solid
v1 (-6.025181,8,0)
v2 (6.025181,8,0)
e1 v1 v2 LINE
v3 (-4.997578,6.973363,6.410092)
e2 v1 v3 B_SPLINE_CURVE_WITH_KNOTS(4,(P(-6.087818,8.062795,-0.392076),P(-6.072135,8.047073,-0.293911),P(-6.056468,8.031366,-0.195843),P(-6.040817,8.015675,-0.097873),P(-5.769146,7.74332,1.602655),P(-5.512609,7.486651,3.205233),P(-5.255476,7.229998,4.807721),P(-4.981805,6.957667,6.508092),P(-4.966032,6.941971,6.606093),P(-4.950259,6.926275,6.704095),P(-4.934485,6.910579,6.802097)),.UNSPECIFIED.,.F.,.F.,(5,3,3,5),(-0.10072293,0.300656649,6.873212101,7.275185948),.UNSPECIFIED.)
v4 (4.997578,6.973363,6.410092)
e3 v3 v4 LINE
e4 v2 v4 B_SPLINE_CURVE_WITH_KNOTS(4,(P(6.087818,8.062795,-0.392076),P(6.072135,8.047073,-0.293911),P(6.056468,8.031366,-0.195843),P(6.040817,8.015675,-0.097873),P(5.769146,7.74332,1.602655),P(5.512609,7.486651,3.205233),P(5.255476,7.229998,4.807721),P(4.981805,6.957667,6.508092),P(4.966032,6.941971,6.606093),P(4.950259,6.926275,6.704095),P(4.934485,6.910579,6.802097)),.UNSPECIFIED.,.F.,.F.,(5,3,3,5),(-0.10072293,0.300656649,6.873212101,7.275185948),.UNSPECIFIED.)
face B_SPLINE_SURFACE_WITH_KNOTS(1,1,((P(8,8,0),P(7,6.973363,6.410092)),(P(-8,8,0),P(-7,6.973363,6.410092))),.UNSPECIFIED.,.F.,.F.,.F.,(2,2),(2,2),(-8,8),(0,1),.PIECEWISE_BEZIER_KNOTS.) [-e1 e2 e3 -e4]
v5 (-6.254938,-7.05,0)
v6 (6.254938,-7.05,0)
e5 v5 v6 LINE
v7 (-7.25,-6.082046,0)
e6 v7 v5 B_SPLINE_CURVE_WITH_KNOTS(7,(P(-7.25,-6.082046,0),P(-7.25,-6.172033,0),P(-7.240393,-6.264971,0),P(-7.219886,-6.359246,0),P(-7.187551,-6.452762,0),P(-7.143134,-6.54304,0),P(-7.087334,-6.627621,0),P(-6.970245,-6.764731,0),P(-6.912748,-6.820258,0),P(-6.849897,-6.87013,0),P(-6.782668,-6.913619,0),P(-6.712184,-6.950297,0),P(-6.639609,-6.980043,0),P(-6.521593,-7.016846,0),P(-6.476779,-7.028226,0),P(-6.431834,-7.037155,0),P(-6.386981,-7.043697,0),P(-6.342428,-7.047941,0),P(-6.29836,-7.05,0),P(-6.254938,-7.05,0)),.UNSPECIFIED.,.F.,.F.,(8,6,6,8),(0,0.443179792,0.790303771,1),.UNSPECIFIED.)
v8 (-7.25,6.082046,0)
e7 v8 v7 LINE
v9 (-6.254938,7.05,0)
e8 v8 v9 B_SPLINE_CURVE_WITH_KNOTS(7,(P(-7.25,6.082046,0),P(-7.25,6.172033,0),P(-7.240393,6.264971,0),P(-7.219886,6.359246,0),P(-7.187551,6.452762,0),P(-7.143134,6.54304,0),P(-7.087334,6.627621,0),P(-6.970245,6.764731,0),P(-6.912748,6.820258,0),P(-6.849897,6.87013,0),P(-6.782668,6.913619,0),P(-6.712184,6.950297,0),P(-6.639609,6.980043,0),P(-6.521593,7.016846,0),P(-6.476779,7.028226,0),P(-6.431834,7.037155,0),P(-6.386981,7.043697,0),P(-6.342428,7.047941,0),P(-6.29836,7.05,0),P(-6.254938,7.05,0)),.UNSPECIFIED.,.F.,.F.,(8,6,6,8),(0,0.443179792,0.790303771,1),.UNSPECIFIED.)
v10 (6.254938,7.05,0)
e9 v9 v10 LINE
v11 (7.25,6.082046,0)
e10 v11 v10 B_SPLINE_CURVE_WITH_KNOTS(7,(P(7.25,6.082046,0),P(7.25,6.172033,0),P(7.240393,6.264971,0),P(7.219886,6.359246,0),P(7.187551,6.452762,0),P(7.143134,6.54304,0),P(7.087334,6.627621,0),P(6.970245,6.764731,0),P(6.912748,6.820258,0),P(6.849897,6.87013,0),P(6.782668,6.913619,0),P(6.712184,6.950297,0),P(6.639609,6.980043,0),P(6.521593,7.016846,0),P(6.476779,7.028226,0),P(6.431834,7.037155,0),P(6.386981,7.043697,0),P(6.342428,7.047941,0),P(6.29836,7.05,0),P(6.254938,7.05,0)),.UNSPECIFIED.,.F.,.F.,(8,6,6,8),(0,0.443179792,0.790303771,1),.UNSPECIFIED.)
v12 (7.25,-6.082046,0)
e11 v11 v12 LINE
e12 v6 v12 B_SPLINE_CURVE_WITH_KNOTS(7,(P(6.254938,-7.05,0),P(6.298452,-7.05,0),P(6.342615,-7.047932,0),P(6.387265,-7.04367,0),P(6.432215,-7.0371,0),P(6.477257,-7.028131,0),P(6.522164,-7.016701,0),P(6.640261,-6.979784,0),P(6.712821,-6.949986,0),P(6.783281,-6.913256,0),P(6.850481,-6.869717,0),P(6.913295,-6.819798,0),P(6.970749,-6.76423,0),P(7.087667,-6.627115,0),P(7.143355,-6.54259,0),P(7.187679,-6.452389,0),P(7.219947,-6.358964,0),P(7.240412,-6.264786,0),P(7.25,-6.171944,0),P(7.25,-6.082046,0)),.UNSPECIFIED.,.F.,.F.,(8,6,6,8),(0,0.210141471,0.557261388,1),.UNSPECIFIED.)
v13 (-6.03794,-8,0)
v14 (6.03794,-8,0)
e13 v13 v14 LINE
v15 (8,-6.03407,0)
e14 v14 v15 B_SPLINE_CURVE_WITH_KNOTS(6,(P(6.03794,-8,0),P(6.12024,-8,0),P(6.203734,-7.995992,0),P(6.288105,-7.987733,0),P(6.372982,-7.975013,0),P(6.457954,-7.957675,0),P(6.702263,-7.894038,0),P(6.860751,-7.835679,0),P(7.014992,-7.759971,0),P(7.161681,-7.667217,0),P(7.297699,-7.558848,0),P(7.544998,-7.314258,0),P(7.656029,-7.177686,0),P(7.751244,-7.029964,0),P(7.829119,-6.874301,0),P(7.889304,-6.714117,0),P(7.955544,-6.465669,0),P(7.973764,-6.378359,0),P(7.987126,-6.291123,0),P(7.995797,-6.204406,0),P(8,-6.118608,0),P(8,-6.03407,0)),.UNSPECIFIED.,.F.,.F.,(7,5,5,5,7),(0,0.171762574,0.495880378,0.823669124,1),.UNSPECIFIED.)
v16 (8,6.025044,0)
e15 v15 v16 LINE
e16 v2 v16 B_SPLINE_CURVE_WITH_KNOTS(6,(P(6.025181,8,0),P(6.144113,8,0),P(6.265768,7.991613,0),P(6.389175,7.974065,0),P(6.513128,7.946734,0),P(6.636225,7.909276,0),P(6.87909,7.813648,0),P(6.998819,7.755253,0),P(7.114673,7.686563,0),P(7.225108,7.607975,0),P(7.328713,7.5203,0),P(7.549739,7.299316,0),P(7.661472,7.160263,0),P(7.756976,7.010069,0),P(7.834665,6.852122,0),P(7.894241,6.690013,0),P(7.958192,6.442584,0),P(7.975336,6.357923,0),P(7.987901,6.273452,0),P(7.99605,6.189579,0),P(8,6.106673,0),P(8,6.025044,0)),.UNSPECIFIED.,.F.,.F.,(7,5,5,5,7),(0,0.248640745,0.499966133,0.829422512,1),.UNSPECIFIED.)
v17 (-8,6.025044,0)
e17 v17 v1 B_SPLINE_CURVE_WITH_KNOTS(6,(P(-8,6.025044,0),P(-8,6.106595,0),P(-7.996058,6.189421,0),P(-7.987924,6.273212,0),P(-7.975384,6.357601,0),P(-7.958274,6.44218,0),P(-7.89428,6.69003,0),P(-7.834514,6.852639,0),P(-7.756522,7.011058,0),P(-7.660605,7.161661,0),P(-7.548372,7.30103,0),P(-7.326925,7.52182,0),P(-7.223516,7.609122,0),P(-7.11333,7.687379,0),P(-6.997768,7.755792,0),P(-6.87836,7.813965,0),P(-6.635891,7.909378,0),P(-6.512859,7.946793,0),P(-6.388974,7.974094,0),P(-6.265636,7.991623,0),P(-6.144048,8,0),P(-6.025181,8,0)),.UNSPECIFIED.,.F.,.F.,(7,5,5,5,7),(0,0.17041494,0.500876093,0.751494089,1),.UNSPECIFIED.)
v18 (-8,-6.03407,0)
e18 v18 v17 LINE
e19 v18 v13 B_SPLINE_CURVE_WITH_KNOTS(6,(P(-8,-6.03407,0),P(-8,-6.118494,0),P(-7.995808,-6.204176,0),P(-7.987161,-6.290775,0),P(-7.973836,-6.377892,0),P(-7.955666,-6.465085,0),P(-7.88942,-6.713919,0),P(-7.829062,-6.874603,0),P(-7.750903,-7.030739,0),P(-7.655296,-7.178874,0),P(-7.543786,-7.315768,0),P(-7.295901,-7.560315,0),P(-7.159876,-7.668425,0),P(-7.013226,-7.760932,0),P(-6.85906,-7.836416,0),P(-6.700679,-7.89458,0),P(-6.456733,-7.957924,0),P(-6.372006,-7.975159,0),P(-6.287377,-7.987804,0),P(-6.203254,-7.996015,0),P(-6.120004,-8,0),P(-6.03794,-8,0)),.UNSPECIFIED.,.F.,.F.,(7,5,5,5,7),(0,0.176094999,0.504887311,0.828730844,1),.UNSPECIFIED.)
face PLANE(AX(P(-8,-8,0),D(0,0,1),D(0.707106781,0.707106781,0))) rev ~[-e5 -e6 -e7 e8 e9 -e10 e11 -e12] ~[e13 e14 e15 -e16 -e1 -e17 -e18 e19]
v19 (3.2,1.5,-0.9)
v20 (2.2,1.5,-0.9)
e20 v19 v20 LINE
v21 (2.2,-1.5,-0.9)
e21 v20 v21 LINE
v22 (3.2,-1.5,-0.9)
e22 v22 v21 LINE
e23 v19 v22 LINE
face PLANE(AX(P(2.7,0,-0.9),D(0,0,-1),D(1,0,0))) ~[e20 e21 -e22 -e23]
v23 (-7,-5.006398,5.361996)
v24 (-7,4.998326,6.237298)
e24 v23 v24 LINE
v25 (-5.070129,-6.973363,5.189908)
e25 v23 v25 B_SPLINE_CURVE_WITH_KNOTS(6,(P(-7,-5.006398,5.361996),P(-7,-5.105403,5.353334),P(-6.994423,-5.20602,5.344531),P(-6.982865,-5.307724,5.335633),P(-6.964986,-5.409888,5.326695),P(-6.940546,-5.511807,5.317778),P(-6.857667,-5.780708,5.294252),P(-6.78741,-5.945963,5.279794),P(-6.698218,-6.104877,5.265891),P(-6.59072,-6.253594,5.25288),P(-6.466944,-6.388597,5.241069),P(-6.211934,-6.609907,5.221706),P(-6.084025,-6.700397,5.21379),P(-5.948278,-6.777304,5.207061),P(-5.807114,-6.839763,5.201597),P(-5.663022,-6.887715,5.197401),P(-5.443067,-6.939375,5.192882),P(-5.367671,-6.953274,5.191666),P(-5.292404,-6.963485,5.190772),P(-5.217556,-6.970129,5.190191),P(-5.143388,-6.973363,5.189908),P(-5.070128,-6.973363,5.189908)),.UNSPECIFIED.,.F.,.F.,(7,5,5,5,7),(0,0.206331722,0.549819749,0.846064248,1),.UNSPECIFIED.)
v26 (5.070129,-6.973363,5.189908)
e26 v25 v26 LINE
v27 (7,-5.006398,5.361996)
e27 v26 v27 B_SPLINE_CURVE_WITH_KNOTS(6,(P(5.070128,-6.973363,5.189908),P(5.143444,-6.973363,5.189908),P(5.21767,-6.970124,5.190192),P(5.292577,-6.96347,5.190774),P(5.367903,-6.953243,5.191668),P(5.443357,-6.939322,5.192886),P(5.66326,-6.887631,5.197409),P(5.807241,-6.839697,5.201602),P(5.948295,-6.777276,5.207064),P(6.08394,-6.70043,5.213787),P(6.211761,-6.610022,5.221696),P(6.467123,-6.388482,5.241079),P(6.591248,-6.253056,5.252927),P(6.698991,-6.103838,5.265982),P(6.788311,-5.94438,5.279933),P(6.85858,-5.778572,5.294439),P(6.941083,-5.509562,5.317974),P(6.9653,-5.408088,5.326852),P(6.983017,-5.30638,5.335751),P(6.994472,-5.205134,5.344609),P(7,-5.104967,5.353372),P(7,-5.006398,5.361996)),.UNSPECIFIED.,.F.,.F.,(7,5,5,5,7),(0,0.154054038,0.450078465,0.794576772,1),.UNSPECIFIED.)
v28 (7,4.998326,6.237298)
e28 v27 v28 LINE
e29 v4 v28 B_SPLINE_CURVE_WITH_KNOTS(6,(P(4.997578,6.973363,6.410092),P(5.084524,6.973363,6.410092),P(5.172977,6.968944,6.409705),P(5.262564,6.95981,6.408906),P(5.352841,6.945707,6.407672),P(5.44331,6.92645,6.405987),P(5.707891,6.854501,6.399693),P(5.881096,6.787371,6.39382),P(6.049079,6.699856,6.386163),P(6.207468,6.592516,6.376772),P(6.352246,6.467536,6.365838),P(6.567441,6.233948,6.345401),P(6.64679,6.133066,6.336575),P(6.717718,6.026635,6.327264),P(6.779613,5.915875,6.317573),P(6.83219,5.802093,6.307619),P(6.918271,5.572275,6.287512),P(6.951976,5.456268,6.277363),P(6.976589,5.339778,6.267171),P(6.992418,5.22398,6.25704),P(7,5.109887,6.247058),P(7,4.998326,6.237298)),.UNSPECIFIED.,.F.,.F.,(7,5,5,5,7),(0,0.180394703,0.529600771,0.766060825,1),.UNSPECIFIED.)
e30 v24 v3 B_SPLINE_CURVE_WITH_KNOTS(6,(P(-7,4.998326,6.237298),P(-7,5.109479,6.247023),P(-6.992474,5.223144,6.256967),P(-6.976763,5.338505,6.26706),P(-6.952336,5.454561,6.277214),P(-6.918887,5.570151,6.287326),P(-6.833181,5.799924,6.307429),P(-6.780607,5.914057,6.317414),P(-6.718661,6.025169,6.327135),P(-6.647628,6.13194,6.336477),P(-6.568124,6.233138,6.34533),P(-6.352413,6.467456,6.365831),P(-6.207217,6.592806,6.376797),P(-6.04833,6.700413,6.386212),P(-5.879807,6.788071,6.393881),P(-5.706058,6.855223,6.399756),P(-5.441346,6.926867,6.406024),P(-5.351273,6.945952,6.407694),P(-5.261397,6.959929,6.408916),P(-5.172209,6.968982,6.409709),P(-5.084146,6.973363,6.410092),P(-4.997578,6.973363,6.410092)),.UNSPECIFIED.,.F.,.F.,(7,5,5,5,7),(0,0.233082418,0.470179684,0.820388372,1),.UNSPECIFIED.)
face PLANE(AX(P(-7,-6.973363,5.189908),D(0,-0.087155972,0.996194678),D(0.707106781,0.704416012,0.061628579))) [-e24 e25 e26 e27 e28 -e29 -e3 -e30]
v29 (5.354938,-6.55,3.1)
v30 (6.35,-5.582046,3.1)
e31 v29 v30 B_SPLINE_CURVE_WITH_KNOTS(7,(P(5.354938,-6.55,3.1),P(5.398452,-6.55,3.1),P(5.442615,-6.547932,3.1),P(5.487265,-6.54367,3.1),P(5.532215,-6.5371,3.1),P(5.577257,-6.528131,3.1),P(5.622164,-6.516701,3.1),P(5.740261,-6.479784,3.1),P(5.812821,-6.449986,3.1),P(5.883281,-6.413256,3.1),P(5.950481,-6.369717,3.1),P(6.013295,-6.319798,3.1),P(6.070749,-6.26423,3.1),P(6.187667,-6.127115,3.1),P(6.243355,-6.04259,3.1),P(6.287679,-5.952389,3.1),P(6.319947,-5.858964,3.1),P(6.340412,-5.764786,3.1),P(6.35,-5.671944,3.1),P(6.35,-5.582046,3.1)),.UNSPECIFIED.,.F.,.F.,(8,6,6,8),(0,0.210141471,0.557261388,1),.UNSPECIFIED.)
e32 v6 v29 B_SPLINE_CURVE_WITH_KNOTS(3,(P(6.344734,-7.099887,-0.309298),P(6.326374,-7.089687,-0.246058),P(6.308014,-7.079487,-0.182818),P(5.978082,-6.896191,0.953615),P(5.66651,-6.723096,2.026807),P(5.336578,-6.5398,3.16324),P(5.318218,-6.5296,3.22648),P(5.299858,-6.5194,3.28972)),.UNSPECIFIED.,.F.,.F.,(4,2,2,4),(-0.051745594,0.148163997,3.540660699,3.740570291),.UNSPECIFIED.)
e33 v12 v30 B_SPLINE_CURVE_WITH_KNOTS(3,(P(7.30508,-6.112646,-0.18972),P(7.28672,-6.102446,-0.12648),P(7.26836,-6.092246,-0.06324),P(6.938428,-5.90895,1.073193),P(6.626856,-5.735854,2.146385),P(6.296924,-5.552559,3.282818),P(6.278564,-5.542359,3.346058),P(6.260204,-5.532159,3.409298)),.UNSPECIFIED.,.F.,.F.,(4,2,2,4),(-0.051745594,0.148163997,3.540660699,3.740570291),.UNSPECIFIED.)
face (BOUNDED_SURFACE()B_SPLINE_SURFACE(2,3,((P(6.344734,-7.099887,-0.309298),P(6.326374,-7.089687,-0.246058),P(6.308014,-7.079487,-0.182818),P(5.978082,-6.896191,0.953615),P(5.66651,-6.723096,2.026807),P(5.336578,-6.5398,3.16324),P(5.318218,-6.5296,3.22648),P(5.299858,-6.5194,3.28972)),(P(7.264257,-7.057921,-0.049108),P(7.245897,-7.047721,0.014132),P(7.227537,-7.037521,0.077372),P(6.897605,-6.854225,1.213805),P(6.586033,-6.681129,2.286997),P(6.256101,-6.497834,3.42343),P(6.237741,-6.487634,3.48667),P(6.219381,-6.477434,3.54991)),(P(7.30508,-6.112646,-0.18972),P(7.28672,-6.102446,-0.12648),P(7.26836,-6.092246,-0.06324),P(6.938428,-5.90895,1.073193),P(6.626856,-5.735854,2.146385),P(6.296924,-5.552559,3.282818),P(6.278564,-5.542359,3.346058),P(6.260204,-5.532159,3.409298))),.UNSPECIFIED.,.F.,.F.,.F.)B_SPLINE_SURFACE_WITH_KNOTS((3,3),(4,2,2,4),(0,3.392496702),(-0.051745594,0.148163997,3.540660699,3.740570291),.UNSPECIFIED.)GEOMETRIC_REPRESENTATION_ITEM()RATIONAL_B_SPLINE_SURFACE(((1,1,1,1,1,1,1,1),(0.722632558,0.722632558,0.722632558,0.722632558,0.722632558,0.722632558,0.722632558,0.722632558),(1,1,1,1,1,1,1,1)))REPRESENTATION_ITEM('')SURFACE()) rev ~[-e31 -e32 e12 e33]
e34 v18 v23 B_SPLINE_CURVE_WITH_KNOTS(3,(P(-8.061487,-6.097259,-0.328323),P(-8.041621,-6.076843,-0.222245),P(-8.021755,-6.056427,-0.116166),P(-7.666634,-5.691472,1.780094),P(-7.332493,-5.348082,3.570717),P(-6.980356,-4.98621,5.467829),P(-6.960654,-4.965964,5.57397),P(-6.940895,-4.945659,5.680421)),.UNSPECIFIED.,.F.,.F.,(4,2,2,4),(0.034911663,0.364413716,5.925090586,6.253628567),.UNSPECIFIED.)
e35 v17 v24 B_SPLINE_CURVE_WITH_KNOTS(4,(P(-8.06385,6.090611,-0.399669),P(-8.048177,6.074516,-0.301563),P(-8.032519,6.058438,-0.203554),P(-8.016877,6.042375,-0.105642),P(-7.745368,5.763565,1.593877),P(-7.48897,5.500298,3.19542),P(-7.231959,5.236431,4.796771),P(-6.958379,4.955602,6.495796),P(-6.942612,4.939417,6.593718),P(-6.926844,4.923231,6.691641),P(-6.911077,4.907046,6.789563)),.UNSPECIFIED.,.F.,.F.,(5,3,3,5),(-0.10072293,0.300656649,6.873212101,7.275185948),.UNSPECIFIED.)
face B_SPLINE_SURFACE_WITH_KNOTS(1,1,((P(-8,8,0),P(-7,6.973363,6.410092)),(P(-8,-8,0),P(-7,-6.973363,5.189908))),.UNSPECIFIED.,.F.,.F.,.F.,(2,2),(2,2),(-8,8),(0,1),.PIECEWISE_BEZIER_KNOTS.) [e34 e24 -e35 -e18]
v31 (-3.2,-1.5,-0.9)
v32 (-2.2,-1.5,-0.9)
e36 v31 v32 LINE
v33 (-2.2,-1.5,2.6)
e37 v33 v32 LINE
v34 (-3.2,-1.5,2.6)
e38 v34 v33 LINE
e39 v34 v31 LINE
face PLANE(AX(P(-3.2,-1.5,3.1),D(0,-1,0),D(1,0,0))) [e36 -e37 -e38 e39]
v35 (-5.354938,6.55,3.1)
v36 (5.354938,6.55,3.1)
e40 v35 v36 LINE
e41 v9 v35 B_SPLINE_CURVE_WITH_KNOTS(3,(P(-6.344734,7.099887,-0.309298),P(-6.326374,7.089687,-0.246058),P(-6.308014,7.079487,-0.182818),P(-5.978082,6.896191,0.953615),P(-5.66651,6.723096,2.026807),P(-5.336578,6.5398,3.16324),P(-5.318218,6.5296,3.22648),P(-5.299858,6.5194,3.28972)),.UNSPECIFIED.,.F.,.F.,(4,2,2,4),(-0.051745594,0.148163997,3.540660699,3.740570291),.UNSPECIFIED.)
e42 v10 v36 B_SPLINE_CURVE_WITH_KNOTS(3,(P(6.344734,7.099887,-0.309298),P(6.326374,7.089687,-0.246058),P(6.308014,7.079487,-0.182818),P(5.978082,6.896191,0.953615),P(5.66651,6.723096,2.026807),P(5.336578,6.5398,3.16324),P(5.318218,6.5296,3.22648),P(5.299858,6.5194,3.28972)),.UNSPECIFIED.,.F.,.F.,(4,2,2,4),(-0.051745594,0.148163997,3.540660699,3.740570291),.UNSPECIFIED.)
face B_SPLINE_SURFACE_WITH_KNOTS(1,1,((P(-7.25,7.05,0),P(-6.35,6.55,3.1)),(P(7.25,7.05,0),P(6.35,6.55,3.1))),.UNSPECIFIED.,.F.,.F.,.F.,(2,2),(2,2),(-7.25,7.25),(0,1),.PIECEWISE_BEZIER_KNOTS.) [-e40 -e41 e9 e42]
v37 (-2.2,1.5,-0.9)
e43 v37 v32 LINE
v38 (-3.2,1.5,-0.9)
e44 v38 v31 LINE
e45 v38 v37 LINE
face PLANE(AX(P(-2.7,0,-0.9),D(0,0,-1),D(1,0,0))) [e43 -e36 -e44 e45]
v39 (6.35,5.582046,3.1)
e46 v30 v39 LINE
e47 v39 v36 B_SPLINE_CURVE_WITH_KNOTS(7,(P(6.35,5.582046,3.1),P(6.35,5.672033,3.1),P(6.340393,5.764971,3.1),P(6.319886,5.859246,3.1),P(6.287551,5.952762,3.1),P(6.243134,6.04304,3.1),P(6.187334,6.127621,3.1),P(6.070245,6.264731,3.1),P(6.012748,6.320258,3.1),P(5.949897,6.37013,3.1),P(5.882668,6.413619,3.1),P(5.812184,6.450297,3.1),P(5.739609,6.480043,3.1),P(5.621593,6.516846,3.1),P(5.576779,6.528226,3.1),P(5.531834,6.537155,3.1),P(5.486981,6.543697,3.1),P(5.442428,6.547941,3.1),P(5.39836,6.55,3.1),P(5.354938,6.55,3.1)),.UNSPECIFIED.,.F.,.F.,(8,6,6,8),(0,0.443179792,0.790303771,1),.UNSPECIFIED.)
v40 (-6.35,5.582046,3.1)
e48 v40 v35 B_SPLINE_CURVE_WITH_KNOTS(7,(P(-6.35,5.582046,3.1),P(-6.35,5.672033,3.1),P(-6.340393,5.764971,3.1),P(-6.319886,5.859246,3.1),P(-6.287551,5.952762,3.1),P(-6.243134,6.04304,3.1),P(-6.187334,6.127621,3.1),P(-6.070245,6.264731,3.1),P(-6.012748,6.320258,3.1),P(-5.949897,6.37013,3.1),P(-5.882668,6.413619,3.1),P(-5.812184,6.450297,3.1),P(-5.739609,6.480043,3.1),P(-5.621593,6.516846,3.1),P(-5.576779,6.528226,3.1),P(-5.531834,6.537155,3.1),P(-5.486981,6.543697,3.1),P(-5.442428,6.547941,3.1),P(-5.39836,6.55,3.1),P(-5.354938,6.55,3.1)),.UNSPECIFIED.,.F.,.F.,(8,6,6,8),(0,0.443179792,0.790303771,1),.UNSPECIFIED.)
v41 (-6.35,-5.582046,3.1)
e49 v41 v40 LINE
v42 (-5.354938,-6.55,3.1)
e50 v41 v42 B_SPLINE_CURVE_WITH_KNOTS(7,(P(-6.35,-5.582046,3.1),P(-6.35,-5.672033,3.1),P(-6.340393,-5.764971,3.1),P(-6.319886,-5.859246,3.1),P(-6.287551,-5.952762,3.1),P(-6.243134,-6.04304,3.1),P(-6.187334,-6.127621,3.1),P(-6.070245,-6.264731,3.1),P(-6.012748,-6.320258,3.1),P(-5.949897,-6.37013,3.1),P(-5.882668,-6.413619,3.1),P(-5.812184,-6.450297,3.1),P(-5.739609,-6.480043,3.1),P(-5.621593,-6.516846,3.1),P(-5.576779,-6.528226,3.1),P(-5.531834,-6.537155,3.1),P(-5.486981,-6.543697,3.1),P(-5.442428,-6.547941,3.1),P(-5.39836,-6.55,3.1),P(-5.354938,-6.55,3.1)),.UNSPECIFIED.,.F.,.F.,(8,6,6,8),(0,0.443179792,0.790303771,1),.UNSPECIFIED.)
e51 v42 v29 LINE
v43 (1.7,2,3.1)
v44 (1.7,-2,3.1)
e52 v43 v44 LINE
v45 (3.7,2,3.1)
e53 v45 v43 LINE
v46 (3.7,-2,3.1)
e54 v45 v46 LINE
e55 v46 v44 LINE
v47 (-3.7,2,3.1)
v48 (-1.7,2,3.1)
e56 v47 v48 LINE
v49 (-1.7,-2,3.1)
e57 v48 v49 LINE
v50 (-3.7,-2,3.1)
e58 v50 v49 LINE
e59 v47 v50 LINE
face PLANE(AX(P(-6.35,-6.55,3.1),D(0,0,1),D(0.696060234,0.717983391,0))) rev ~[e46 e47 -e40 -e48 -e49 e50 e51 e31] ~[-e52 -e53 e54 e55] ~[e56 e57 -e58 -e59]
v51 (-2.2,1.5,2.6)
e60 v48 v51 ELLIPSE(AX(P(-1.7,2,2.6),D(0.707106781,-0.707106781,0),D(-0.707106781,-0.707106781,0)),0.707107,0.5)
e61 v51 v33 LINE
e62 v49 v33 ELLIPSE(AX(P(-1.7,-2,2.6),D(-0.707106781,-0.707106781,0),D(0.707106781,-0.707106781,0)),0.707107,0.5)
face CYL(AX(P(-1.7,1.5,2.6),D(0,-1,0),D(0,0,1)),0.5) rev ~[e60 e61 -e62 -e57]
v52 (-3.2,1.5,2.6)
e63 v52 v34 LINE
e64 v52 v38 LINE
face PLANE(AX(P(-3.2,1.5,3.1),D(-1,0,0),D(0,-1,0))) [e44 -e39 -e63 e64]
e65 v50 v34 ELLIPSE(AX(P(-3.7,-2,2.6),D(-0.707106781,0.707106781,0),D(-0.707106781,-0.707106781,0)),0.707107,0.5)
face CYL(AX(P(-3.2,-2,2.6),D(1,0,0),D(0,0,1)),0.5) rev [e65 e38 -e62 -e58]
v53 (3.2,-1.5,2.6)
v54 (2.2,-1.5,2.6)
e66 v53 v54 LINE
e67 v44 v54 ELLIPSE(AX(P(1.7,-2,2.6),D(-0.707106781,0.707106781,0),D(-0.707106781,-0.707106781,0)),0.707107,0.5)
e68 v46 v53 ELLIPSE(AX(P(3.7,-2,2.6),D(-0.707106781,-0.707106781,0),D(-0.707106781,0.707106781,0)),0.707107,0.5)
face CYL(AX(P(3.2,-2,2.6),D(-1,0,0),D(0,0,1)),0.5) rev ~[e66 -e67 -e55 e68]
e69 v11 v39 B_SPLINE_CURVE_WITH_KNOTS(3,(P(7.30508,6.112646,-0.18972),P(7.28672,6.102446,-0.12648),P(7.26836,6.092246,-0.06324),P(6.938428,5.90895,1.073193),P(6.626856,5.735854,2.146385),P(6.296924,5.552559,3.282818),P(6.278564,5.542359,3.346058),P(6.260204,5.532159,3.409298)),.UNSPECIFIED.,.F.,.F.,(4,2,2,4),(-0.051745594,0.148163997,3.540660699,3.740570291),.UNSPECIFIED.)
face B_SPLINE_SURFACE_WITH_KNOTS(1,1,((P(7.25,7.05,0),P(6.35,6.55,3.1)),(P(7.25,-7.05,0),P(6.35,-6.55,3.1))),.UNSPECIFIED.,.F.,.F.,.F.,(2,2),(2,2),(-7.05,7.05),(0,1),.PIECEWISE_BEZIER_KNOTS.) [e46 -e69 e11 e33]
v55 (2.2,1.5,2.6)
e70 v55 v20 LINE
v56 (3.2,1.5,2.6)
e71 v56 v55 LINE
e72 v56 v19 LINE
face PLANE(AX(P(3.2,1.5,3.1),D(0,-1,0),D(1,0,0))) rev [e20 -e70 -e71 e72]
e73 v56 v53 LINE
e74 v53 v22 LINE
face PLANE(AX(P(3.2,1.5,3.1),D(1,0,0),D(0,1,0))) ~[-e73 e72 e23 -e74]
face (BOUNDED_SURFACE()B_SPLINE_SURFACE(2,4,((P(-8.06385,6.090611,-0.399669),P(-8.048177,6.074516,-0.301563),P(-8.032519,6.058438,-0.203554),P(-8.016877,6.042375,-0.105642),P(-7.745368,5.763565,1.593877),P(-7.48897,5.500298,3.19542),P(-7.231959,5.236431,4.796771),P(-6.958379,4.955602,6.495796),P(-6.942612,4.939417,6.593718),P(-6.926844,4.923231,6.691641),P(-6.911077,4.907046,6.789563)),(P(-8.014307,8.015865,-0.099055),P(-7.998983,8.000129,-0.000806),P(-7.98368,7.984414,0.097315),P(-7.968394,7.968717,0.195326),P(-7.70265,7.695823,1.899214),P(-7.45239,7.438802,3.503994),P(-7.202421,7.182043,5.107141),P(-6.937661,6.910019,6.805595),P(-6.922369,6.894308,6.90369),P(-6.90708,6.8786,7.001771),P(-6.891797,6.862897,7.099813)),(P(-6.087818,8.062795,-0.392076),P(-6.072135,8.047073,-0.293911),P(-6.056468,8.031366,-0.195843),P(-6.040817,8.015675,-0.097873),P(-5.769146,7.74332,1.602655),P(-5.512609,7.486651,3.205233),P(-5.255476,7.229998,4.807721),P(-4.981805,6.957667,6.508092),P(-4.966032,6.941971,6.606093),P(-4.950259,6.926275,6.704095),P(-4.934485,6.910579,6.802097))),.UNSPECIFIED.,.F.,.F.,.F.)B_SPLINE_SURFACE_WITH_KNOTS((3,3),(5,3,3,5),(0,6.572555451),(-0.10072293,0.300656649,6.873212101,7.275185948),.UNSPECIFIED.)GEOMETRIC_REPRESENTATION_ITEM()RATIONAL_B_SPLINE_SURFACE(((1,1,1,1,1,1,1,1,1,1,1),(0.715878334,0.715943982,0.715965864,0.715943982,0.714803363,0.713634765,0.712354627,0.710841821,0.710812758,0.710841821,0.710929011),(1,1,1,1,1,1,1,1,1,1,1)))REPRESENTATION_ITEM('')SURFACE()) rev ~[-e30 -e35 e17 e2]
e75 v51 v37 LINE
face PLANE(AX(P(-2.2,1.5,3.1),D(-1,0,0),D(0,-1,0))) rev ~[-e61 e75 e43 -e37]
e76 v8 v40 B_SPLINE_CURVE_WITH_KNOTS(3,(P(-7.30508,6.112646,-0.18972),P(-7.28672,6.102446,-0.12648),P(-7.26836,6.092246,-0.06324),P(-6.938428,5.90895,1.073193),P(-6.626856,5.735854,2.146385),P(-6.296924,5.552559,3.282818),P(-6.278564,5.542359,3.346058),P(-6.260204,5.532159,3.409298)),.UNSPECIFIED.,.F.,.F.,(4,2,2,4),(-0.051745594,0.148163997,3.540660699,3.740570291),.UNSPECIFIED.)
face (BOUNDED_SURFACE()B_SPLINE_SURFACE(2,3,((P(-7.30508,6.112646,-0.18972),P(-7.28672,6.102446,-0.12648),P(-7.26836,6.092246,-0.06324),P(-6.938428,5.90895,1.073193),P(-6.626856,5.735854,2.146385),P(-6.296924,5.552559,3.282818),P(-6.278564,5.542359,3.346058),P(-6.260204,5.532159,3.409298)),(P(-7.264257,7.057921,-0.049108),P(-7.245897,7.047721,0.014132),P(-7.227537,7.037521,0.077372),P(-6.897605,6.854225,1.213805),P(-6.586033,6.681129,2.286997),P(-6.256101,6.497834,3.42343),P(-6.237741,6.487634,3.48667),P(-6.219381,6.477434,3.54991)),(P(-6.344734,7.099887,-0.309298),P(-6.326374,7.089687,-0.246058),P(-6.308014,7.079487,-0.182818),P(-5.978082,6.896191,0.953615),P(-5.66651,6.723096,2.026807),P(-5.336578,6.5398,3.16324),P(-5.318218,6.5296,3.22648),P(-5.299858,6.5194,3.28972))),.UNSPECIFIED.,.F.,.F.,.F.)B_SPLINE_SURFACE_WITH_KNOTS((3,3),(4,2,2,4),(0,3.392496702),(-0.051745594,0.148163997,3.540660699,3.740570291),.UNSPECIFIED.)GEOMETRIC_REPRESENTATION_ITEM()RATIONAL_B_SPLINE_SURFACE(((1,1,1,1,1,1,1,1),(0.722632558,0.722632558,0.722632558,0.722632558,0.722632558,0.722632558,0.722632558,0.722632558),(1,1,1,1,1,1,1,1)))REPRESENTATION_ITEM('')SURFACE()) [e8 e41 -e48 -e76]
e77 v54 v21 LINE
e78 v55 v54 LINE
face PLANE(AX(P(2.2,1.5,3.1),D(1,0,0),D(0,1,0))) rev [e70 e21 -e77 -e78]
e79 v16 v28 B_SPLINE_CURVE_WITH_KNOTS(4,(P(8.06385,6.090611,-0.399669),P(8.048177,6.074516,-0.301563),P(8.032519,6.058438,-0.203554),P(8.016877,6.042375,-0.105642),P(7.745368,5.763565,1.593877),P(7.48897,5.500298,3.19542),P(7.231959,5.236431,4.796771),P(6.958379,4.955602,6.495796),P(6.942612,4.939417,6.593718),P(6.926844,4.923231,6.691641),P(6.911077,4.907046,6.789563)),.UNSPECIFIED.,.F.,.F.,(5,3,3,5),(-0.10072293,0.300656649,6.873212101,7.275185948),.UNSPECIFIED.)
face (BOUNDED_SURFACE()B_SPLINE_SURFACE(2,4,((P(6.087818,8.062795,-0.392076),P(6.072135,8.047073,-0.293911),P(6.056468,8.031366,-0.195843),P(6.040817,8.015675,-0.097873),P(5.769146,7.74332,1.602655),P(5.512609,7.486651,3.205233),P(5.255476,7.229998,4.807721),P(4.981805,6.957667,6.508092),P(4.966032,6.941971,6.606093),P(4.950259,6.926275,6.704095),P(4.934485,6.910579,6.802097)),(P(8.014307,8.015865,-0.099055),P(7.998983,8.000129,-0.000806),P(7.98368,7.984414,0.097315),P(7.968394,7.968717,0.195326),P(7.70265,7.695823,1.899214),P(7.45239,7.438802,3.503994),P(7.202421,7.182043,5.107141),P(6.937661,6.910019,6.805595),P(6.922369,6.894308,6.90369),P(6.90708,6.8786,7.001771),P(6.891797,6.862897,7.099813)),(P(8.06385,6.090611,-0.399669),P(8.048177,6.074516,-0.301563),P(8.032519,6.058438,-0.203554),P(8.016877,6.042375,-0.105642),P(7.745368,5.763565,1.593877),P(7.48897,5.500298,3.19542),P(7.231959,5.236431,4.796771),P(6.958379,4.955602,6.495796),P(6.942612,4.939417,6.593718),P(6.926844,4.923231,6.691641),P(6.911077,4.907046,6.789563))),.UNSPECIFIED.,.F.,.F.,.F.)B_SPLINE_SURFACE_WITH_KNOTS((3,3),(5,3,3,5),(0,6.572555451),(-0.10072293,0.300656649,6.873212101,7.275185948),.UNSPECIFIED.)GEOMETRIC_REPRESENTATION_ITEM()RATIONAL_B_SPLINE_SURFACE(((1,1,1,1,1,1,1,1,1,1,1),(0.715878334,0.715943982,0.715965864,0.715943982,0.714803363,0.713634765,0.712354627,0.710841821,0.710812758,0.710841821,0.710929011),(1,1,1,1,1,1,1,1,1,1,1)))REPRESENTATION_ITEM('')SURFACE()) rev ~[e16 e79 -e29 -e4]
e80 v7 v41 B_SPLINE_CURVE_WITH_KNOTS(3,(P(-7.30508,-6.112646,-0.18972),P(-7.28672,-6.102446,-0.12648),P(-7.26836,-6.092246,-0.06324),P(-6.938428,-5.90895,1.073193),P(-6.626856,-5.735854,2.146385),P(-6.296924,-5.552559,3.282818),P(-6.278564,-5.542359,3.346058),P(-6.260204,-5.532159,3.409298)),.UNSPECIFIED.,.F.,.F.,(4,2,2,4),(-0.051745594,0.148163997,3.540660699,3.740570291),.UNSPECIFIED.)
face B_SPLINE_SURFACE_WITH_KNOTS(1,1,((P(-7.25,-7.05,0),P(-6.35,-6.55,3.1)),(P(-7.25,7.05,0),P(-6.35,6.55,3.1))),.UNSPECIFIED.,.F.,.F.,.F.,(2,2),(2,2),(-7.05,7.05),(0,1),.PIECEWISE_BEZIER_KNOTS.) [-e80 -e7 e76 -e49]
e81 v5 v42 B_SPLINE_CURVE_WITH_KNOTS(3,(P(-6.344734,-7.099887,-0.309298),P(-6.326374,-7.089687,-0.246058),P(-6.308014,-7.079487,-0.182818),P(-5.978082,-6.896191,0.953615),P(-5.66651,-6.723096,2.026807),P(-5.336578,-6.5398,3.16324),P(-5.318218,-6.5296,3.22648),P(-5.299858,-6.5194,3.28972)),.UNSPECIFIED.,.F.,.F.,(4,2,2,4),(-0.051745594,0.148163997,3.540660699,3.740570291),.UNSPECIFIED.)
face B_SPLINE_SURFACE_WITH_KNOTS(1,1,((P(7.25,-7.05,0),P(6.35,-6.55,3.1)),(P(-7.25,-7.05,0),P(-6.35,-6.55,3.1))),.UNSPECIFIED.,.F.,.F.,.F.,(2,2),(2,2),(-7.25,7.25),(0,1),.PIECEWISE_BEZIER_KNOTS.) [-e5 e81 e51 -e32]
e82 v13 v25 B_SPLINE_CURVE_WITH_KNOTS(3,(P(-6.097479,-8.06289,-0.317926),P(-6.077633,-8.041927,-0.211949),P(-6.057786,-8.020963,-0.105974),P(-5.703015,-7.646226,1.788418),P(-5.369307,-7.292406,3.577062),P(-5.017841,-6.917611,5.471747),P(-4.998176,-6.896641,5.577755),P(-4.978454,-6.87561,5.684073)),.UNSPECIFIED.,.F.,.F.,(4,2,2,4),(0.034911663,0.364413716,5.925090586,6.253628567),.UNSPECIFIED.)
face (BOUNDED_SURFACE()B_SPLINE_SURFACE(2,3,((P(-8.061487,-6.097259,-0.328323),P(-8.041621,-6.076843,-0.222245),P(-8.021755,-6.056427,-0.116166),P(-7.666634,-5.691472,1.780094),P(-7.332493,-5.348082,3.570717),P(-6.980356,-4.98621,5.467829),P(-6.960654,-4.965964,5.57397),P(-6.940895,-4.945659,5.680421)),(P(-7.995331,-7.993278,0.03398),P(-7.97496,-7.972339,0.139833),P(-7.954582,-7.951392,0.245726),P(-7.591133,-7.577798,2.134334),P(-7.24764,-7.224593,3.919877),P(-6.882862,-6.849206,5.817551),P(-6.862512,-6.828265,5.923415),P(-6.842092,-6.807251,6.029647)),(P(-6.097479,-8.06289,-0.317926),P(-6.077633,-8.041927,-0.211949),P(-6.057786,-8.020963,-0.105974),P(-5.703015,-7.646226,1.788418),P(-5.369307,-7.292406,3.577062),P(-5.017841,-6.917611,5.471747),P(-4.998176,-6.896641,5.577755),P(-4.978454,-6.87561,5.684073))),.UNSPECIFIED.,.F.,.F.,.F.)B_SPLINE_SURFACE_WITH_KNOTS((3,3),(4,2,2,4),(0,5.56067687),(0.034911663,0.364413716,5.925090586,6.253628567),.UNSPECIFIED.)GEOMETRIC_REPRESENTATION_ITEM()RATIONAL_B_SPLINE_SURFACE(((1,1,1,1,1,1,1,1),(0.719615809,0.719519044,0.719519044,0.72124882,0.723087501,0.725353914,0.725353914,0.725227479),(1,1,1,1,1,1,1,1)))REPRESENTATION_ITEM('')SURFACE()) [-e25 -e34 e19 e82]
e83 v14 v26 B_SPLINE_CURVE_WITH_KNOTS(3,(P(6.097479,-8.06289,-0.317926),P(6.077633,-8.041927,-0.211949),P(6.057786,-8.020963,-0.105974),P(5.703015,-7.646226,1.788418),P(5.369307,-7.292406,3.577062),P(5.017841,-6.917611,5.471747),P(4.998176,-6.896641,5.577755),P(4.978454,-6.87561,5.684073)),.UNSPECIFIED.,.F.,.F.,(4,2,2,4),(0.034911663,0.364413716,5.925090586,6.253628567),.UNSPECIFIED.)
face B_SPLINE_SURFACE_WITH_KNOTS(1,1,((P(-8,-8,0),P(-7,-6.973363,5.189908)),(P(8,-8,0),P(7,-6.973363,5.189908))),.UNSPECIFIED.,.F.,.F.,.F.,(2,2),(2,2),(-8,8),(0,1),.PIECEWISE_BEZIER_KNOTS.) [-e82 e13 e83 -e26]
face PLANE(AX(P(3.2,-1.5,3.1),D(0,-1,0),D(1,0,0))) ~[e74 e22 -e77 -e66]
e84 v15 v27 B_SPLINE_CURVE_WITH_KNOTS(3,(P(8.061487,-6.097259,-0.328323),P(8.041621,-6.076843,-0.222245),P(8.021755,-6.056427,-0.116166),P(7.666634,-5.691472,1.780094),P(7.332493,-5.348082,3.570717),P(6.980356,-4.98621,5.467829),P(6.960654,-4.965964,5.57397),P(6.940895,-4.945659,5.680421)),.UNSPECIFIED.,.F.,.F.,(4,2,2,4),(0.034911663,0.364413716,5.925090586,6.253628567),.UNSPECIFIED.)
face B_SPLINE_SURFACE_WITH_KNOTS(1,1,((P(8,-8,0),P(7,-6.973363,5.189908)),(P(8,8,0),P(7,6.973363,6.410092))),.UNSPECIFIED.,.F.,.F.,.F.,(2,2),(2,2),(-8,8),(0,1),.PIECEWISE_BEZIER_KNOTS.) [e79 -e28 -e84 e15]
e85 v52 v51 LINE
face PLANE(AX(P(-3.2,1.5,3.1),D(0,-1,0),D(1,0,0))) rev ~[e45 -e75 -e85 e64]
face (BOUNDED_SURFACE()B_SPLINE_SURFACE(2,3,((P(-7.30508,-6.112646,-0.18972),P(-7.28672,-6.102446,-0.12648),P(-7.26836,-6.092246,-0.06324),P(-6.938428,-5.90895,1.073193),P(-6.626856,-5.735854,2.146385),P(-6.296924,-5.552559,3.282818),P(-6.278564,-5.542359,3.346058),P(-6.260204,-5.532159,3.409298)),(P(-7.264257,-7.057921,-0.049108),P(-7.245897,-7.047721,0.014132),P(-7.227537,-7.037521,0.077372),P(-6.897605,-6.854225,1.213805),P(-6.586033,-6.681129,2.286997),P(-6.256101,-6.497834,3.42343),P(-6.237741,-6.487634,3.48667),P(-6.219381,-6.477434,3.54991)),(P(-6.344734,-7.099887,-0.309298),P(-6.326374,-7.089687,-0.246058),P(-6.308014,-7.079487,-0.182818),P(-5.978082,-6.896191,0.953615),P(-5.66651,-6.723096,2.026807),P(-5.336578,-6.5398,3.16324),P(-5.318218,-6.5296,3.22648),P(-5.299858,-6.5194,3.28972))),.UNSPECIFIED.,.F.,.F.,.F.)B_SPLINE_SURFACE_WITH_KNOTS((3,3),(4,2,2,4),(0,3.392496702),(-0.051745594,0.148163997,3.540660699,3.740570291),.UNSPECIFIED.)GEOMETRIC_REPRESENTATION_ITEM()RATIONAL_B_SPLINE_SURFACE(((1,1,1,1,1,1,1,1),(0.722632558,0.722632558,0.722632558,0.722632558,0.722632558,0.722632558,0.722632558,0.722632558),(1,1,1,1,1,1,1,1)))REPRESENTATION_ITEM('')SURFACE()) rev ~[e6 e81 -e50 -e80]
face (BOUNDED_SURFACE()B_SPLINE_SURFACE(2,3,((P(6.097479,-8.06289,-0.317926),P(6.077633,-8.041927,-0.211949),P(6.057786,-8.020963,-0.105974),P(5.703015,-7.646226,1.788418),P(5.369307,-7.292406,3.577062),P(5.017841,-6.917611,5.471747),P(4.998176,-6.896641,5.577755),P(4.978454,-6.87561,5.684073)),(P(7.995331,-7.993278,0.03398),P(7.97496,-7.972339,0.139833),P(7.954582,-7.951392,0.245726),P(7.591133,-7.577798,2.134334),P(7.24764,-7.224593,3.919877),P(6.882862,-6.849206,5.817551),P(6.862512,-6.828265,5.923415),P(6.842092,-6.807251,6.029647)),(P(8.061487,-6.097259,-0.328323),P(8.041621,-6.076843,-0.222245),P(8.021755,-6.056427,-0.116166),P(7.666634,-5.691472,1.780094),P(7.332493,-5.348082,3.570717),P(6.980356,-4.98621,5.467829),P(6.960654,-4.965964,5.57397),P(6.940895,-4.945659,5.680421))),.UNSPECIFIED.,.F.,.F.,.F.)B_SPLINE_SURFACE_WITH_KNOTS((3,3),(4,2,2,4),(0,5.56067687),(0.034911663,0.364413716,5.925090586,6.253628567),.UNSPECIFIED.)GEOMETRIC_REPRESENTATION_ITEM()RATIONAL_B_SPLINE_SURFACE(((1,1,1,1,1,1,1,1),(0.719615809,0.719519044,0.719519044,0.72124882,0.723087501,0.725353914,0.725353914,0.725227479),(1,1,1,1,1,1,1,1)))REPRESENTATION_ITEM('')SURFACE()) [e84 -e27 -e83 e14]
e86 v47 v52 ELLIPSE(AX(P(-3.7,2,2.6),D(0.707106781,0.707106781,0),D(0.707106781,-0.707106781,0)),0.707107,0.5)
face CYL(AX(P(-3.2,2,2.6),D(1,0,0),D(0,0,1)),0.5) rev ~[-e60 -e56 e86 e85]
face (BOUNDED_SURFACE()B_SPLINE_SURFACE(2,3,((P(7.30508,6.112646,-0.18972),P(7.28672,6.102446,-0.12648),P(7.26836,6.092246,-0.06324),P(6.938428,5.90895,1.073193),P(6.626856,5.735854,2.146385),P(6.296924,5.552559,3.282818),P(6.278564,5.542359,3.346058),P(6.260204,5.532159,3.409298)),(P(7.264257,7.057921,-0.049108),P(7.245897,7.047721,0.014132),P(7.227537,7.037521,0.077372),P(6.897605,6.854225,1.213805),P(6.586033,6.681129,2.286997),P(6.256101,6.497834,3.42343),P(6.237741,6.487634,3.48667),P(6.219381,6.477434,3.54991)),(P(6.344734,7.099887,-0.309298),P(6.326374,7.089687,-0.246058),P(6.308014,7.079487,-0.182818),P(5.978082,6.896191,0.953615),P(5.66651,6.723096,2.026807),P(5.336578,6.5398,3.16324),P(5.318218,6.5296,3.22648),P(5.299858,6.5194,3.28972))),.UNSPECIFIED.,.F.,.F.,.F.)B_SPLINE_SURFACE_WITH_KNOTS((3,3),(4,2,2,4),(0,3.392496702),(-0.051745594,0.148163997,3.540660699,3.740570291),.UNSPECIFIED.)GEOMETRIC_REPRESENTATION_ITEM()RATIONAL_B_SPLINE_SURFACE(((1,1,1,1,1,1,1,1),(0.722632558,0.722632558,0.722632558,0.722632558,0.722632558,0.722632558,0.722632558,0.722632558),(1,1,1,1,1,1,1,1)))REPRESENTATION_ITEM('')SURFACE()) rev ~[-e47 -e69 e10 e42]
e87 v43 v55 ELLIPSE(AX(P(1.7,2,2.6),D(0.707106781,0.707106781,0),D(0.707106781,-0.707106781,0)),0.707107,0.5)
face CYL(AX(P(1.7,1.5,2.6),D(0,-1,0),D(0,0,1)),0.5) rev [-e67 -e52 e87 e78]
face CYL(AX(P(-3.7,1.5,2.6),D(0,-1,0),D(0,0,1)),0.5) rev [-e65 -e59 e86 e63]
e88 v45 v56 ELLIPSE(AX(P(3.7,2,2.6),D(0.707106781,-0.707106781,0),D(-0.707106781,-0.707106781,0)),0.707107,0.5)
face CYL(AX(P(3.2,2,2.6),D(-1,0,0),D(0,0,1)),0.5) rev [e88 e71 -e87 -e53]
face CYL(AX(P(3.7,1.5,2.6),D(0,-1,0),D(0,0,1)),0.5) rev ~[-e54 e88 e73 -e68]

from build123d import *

# Parameters (mm, degrees)
SKETCH003_W = 16
SKETCH003_H = 16
SKETCH004_W = 14
SKETCH004_H = 14
SKETCH_W    = 14.5
SKETCH_H    = 14.1
SKETCH005_W = 12.7
SKETCH005_H = 13.1
SKETCH006_W = 1
SKETCH006_H = 3
PAD_DEPTH   = 4
FILLET_R    = 2
FILLET001_R = 1
FILLET002_R = 0.5


with BuildPart() as part:
    # Sketch003 → AdditiveLoft section 0
    with BuildSketch(Plane.XY):
        Rectangle(SKETCH003_W, SKETCH003_H)
    # Sketch004 → AdditiveLoft section 1
    with BuildSketch(Plane(origin=(0, 0, 5.8), x_dir=(1, 0, 0), z_dir=(0, -0.087156, 0.996195))):
        Rectangle(SKETCH004_W, SKETCH004_H)
    loft()

    # Sketch (on Face1 of AdditiveLoft) → SubtractiveLoft section 0
    with BuildSketch(Plane(origin=(0, 0, 0), x_dir=(1, 0, 0), z_dir=(0, 0, -1))):
        Rectangle(SKETCH_W, SKETCH_H)
    # Sketch005 → SubtractiveLoft section 1
    with BuildSketch(Plane.XY.offset(3.1)):
        Rectangle(SKETCH005_W, SKETCH005_H)
    loft(mode=Mode.SUBTRACT)

    # Sketch006 (on Face11 of SubtractiveLoft) → Pad (new body)
    with BuildSketch(Plane(origin=(0, 0, 3.1), x_dir=(1, 0, 0), z_dir=(0, 0, -1))):
        with Locations((-2.7, 0)):
            Rectangle(SKETCH006_W, SKETCH006_H)
    pad = extrude(amount=PAD_DEPTH)

    # Mirrored: Pad across Sketch006 V_Axis
    add(pad.mirror(Plane(origin=(0, 0, 3.1), x_dir=(0, 0, -1), z_dir=(1, 0, 0))))

    # Fillet
    fillet_edges = [part.edges().sort_by_distance(p)[0] for p in [
        (-7.5, -7.486681, 2.594955),
        (-7.5, 7.486681, 3.205045),
        (7.5, 7.486681, 3.205045),
        (7.5, -7.486681, 2.594955),
    ]]
    fillet(fillet_edges, radius=FILLET_R)

    # Fillet001
    fillet001_edges = [part.edges().sort_by_distance(p)[0] for p in [
        (-6.8, -6.8, 1.55),
        (-6.8, 6.8, 1.55),
        (6.8, -6.8, 1.55),
        (6.8, 6.8, 1.55),
    ]]
    fillet(fillet001_edges, radius=FILLET001_R)

    # Fillet002
    fillet002_edges = [part.edges().sort_by_distance(p)[0] for p in [
        (-3.2, 0, 3.1),
        (2.2, 0, 3.1),
        (-2.7, -1.5, 3.1),
        (2.7, -1.5, 3.1),
        (3.2, 0, 3.1),
        (-2.2, 0, 3.1),
        (2.7, 1.5, 3.1),
        (-2.7, 1.5, 3.1),
    ]]
    fillet(fillet002_edges, radius=FILLET002_R)


solid = part.part
